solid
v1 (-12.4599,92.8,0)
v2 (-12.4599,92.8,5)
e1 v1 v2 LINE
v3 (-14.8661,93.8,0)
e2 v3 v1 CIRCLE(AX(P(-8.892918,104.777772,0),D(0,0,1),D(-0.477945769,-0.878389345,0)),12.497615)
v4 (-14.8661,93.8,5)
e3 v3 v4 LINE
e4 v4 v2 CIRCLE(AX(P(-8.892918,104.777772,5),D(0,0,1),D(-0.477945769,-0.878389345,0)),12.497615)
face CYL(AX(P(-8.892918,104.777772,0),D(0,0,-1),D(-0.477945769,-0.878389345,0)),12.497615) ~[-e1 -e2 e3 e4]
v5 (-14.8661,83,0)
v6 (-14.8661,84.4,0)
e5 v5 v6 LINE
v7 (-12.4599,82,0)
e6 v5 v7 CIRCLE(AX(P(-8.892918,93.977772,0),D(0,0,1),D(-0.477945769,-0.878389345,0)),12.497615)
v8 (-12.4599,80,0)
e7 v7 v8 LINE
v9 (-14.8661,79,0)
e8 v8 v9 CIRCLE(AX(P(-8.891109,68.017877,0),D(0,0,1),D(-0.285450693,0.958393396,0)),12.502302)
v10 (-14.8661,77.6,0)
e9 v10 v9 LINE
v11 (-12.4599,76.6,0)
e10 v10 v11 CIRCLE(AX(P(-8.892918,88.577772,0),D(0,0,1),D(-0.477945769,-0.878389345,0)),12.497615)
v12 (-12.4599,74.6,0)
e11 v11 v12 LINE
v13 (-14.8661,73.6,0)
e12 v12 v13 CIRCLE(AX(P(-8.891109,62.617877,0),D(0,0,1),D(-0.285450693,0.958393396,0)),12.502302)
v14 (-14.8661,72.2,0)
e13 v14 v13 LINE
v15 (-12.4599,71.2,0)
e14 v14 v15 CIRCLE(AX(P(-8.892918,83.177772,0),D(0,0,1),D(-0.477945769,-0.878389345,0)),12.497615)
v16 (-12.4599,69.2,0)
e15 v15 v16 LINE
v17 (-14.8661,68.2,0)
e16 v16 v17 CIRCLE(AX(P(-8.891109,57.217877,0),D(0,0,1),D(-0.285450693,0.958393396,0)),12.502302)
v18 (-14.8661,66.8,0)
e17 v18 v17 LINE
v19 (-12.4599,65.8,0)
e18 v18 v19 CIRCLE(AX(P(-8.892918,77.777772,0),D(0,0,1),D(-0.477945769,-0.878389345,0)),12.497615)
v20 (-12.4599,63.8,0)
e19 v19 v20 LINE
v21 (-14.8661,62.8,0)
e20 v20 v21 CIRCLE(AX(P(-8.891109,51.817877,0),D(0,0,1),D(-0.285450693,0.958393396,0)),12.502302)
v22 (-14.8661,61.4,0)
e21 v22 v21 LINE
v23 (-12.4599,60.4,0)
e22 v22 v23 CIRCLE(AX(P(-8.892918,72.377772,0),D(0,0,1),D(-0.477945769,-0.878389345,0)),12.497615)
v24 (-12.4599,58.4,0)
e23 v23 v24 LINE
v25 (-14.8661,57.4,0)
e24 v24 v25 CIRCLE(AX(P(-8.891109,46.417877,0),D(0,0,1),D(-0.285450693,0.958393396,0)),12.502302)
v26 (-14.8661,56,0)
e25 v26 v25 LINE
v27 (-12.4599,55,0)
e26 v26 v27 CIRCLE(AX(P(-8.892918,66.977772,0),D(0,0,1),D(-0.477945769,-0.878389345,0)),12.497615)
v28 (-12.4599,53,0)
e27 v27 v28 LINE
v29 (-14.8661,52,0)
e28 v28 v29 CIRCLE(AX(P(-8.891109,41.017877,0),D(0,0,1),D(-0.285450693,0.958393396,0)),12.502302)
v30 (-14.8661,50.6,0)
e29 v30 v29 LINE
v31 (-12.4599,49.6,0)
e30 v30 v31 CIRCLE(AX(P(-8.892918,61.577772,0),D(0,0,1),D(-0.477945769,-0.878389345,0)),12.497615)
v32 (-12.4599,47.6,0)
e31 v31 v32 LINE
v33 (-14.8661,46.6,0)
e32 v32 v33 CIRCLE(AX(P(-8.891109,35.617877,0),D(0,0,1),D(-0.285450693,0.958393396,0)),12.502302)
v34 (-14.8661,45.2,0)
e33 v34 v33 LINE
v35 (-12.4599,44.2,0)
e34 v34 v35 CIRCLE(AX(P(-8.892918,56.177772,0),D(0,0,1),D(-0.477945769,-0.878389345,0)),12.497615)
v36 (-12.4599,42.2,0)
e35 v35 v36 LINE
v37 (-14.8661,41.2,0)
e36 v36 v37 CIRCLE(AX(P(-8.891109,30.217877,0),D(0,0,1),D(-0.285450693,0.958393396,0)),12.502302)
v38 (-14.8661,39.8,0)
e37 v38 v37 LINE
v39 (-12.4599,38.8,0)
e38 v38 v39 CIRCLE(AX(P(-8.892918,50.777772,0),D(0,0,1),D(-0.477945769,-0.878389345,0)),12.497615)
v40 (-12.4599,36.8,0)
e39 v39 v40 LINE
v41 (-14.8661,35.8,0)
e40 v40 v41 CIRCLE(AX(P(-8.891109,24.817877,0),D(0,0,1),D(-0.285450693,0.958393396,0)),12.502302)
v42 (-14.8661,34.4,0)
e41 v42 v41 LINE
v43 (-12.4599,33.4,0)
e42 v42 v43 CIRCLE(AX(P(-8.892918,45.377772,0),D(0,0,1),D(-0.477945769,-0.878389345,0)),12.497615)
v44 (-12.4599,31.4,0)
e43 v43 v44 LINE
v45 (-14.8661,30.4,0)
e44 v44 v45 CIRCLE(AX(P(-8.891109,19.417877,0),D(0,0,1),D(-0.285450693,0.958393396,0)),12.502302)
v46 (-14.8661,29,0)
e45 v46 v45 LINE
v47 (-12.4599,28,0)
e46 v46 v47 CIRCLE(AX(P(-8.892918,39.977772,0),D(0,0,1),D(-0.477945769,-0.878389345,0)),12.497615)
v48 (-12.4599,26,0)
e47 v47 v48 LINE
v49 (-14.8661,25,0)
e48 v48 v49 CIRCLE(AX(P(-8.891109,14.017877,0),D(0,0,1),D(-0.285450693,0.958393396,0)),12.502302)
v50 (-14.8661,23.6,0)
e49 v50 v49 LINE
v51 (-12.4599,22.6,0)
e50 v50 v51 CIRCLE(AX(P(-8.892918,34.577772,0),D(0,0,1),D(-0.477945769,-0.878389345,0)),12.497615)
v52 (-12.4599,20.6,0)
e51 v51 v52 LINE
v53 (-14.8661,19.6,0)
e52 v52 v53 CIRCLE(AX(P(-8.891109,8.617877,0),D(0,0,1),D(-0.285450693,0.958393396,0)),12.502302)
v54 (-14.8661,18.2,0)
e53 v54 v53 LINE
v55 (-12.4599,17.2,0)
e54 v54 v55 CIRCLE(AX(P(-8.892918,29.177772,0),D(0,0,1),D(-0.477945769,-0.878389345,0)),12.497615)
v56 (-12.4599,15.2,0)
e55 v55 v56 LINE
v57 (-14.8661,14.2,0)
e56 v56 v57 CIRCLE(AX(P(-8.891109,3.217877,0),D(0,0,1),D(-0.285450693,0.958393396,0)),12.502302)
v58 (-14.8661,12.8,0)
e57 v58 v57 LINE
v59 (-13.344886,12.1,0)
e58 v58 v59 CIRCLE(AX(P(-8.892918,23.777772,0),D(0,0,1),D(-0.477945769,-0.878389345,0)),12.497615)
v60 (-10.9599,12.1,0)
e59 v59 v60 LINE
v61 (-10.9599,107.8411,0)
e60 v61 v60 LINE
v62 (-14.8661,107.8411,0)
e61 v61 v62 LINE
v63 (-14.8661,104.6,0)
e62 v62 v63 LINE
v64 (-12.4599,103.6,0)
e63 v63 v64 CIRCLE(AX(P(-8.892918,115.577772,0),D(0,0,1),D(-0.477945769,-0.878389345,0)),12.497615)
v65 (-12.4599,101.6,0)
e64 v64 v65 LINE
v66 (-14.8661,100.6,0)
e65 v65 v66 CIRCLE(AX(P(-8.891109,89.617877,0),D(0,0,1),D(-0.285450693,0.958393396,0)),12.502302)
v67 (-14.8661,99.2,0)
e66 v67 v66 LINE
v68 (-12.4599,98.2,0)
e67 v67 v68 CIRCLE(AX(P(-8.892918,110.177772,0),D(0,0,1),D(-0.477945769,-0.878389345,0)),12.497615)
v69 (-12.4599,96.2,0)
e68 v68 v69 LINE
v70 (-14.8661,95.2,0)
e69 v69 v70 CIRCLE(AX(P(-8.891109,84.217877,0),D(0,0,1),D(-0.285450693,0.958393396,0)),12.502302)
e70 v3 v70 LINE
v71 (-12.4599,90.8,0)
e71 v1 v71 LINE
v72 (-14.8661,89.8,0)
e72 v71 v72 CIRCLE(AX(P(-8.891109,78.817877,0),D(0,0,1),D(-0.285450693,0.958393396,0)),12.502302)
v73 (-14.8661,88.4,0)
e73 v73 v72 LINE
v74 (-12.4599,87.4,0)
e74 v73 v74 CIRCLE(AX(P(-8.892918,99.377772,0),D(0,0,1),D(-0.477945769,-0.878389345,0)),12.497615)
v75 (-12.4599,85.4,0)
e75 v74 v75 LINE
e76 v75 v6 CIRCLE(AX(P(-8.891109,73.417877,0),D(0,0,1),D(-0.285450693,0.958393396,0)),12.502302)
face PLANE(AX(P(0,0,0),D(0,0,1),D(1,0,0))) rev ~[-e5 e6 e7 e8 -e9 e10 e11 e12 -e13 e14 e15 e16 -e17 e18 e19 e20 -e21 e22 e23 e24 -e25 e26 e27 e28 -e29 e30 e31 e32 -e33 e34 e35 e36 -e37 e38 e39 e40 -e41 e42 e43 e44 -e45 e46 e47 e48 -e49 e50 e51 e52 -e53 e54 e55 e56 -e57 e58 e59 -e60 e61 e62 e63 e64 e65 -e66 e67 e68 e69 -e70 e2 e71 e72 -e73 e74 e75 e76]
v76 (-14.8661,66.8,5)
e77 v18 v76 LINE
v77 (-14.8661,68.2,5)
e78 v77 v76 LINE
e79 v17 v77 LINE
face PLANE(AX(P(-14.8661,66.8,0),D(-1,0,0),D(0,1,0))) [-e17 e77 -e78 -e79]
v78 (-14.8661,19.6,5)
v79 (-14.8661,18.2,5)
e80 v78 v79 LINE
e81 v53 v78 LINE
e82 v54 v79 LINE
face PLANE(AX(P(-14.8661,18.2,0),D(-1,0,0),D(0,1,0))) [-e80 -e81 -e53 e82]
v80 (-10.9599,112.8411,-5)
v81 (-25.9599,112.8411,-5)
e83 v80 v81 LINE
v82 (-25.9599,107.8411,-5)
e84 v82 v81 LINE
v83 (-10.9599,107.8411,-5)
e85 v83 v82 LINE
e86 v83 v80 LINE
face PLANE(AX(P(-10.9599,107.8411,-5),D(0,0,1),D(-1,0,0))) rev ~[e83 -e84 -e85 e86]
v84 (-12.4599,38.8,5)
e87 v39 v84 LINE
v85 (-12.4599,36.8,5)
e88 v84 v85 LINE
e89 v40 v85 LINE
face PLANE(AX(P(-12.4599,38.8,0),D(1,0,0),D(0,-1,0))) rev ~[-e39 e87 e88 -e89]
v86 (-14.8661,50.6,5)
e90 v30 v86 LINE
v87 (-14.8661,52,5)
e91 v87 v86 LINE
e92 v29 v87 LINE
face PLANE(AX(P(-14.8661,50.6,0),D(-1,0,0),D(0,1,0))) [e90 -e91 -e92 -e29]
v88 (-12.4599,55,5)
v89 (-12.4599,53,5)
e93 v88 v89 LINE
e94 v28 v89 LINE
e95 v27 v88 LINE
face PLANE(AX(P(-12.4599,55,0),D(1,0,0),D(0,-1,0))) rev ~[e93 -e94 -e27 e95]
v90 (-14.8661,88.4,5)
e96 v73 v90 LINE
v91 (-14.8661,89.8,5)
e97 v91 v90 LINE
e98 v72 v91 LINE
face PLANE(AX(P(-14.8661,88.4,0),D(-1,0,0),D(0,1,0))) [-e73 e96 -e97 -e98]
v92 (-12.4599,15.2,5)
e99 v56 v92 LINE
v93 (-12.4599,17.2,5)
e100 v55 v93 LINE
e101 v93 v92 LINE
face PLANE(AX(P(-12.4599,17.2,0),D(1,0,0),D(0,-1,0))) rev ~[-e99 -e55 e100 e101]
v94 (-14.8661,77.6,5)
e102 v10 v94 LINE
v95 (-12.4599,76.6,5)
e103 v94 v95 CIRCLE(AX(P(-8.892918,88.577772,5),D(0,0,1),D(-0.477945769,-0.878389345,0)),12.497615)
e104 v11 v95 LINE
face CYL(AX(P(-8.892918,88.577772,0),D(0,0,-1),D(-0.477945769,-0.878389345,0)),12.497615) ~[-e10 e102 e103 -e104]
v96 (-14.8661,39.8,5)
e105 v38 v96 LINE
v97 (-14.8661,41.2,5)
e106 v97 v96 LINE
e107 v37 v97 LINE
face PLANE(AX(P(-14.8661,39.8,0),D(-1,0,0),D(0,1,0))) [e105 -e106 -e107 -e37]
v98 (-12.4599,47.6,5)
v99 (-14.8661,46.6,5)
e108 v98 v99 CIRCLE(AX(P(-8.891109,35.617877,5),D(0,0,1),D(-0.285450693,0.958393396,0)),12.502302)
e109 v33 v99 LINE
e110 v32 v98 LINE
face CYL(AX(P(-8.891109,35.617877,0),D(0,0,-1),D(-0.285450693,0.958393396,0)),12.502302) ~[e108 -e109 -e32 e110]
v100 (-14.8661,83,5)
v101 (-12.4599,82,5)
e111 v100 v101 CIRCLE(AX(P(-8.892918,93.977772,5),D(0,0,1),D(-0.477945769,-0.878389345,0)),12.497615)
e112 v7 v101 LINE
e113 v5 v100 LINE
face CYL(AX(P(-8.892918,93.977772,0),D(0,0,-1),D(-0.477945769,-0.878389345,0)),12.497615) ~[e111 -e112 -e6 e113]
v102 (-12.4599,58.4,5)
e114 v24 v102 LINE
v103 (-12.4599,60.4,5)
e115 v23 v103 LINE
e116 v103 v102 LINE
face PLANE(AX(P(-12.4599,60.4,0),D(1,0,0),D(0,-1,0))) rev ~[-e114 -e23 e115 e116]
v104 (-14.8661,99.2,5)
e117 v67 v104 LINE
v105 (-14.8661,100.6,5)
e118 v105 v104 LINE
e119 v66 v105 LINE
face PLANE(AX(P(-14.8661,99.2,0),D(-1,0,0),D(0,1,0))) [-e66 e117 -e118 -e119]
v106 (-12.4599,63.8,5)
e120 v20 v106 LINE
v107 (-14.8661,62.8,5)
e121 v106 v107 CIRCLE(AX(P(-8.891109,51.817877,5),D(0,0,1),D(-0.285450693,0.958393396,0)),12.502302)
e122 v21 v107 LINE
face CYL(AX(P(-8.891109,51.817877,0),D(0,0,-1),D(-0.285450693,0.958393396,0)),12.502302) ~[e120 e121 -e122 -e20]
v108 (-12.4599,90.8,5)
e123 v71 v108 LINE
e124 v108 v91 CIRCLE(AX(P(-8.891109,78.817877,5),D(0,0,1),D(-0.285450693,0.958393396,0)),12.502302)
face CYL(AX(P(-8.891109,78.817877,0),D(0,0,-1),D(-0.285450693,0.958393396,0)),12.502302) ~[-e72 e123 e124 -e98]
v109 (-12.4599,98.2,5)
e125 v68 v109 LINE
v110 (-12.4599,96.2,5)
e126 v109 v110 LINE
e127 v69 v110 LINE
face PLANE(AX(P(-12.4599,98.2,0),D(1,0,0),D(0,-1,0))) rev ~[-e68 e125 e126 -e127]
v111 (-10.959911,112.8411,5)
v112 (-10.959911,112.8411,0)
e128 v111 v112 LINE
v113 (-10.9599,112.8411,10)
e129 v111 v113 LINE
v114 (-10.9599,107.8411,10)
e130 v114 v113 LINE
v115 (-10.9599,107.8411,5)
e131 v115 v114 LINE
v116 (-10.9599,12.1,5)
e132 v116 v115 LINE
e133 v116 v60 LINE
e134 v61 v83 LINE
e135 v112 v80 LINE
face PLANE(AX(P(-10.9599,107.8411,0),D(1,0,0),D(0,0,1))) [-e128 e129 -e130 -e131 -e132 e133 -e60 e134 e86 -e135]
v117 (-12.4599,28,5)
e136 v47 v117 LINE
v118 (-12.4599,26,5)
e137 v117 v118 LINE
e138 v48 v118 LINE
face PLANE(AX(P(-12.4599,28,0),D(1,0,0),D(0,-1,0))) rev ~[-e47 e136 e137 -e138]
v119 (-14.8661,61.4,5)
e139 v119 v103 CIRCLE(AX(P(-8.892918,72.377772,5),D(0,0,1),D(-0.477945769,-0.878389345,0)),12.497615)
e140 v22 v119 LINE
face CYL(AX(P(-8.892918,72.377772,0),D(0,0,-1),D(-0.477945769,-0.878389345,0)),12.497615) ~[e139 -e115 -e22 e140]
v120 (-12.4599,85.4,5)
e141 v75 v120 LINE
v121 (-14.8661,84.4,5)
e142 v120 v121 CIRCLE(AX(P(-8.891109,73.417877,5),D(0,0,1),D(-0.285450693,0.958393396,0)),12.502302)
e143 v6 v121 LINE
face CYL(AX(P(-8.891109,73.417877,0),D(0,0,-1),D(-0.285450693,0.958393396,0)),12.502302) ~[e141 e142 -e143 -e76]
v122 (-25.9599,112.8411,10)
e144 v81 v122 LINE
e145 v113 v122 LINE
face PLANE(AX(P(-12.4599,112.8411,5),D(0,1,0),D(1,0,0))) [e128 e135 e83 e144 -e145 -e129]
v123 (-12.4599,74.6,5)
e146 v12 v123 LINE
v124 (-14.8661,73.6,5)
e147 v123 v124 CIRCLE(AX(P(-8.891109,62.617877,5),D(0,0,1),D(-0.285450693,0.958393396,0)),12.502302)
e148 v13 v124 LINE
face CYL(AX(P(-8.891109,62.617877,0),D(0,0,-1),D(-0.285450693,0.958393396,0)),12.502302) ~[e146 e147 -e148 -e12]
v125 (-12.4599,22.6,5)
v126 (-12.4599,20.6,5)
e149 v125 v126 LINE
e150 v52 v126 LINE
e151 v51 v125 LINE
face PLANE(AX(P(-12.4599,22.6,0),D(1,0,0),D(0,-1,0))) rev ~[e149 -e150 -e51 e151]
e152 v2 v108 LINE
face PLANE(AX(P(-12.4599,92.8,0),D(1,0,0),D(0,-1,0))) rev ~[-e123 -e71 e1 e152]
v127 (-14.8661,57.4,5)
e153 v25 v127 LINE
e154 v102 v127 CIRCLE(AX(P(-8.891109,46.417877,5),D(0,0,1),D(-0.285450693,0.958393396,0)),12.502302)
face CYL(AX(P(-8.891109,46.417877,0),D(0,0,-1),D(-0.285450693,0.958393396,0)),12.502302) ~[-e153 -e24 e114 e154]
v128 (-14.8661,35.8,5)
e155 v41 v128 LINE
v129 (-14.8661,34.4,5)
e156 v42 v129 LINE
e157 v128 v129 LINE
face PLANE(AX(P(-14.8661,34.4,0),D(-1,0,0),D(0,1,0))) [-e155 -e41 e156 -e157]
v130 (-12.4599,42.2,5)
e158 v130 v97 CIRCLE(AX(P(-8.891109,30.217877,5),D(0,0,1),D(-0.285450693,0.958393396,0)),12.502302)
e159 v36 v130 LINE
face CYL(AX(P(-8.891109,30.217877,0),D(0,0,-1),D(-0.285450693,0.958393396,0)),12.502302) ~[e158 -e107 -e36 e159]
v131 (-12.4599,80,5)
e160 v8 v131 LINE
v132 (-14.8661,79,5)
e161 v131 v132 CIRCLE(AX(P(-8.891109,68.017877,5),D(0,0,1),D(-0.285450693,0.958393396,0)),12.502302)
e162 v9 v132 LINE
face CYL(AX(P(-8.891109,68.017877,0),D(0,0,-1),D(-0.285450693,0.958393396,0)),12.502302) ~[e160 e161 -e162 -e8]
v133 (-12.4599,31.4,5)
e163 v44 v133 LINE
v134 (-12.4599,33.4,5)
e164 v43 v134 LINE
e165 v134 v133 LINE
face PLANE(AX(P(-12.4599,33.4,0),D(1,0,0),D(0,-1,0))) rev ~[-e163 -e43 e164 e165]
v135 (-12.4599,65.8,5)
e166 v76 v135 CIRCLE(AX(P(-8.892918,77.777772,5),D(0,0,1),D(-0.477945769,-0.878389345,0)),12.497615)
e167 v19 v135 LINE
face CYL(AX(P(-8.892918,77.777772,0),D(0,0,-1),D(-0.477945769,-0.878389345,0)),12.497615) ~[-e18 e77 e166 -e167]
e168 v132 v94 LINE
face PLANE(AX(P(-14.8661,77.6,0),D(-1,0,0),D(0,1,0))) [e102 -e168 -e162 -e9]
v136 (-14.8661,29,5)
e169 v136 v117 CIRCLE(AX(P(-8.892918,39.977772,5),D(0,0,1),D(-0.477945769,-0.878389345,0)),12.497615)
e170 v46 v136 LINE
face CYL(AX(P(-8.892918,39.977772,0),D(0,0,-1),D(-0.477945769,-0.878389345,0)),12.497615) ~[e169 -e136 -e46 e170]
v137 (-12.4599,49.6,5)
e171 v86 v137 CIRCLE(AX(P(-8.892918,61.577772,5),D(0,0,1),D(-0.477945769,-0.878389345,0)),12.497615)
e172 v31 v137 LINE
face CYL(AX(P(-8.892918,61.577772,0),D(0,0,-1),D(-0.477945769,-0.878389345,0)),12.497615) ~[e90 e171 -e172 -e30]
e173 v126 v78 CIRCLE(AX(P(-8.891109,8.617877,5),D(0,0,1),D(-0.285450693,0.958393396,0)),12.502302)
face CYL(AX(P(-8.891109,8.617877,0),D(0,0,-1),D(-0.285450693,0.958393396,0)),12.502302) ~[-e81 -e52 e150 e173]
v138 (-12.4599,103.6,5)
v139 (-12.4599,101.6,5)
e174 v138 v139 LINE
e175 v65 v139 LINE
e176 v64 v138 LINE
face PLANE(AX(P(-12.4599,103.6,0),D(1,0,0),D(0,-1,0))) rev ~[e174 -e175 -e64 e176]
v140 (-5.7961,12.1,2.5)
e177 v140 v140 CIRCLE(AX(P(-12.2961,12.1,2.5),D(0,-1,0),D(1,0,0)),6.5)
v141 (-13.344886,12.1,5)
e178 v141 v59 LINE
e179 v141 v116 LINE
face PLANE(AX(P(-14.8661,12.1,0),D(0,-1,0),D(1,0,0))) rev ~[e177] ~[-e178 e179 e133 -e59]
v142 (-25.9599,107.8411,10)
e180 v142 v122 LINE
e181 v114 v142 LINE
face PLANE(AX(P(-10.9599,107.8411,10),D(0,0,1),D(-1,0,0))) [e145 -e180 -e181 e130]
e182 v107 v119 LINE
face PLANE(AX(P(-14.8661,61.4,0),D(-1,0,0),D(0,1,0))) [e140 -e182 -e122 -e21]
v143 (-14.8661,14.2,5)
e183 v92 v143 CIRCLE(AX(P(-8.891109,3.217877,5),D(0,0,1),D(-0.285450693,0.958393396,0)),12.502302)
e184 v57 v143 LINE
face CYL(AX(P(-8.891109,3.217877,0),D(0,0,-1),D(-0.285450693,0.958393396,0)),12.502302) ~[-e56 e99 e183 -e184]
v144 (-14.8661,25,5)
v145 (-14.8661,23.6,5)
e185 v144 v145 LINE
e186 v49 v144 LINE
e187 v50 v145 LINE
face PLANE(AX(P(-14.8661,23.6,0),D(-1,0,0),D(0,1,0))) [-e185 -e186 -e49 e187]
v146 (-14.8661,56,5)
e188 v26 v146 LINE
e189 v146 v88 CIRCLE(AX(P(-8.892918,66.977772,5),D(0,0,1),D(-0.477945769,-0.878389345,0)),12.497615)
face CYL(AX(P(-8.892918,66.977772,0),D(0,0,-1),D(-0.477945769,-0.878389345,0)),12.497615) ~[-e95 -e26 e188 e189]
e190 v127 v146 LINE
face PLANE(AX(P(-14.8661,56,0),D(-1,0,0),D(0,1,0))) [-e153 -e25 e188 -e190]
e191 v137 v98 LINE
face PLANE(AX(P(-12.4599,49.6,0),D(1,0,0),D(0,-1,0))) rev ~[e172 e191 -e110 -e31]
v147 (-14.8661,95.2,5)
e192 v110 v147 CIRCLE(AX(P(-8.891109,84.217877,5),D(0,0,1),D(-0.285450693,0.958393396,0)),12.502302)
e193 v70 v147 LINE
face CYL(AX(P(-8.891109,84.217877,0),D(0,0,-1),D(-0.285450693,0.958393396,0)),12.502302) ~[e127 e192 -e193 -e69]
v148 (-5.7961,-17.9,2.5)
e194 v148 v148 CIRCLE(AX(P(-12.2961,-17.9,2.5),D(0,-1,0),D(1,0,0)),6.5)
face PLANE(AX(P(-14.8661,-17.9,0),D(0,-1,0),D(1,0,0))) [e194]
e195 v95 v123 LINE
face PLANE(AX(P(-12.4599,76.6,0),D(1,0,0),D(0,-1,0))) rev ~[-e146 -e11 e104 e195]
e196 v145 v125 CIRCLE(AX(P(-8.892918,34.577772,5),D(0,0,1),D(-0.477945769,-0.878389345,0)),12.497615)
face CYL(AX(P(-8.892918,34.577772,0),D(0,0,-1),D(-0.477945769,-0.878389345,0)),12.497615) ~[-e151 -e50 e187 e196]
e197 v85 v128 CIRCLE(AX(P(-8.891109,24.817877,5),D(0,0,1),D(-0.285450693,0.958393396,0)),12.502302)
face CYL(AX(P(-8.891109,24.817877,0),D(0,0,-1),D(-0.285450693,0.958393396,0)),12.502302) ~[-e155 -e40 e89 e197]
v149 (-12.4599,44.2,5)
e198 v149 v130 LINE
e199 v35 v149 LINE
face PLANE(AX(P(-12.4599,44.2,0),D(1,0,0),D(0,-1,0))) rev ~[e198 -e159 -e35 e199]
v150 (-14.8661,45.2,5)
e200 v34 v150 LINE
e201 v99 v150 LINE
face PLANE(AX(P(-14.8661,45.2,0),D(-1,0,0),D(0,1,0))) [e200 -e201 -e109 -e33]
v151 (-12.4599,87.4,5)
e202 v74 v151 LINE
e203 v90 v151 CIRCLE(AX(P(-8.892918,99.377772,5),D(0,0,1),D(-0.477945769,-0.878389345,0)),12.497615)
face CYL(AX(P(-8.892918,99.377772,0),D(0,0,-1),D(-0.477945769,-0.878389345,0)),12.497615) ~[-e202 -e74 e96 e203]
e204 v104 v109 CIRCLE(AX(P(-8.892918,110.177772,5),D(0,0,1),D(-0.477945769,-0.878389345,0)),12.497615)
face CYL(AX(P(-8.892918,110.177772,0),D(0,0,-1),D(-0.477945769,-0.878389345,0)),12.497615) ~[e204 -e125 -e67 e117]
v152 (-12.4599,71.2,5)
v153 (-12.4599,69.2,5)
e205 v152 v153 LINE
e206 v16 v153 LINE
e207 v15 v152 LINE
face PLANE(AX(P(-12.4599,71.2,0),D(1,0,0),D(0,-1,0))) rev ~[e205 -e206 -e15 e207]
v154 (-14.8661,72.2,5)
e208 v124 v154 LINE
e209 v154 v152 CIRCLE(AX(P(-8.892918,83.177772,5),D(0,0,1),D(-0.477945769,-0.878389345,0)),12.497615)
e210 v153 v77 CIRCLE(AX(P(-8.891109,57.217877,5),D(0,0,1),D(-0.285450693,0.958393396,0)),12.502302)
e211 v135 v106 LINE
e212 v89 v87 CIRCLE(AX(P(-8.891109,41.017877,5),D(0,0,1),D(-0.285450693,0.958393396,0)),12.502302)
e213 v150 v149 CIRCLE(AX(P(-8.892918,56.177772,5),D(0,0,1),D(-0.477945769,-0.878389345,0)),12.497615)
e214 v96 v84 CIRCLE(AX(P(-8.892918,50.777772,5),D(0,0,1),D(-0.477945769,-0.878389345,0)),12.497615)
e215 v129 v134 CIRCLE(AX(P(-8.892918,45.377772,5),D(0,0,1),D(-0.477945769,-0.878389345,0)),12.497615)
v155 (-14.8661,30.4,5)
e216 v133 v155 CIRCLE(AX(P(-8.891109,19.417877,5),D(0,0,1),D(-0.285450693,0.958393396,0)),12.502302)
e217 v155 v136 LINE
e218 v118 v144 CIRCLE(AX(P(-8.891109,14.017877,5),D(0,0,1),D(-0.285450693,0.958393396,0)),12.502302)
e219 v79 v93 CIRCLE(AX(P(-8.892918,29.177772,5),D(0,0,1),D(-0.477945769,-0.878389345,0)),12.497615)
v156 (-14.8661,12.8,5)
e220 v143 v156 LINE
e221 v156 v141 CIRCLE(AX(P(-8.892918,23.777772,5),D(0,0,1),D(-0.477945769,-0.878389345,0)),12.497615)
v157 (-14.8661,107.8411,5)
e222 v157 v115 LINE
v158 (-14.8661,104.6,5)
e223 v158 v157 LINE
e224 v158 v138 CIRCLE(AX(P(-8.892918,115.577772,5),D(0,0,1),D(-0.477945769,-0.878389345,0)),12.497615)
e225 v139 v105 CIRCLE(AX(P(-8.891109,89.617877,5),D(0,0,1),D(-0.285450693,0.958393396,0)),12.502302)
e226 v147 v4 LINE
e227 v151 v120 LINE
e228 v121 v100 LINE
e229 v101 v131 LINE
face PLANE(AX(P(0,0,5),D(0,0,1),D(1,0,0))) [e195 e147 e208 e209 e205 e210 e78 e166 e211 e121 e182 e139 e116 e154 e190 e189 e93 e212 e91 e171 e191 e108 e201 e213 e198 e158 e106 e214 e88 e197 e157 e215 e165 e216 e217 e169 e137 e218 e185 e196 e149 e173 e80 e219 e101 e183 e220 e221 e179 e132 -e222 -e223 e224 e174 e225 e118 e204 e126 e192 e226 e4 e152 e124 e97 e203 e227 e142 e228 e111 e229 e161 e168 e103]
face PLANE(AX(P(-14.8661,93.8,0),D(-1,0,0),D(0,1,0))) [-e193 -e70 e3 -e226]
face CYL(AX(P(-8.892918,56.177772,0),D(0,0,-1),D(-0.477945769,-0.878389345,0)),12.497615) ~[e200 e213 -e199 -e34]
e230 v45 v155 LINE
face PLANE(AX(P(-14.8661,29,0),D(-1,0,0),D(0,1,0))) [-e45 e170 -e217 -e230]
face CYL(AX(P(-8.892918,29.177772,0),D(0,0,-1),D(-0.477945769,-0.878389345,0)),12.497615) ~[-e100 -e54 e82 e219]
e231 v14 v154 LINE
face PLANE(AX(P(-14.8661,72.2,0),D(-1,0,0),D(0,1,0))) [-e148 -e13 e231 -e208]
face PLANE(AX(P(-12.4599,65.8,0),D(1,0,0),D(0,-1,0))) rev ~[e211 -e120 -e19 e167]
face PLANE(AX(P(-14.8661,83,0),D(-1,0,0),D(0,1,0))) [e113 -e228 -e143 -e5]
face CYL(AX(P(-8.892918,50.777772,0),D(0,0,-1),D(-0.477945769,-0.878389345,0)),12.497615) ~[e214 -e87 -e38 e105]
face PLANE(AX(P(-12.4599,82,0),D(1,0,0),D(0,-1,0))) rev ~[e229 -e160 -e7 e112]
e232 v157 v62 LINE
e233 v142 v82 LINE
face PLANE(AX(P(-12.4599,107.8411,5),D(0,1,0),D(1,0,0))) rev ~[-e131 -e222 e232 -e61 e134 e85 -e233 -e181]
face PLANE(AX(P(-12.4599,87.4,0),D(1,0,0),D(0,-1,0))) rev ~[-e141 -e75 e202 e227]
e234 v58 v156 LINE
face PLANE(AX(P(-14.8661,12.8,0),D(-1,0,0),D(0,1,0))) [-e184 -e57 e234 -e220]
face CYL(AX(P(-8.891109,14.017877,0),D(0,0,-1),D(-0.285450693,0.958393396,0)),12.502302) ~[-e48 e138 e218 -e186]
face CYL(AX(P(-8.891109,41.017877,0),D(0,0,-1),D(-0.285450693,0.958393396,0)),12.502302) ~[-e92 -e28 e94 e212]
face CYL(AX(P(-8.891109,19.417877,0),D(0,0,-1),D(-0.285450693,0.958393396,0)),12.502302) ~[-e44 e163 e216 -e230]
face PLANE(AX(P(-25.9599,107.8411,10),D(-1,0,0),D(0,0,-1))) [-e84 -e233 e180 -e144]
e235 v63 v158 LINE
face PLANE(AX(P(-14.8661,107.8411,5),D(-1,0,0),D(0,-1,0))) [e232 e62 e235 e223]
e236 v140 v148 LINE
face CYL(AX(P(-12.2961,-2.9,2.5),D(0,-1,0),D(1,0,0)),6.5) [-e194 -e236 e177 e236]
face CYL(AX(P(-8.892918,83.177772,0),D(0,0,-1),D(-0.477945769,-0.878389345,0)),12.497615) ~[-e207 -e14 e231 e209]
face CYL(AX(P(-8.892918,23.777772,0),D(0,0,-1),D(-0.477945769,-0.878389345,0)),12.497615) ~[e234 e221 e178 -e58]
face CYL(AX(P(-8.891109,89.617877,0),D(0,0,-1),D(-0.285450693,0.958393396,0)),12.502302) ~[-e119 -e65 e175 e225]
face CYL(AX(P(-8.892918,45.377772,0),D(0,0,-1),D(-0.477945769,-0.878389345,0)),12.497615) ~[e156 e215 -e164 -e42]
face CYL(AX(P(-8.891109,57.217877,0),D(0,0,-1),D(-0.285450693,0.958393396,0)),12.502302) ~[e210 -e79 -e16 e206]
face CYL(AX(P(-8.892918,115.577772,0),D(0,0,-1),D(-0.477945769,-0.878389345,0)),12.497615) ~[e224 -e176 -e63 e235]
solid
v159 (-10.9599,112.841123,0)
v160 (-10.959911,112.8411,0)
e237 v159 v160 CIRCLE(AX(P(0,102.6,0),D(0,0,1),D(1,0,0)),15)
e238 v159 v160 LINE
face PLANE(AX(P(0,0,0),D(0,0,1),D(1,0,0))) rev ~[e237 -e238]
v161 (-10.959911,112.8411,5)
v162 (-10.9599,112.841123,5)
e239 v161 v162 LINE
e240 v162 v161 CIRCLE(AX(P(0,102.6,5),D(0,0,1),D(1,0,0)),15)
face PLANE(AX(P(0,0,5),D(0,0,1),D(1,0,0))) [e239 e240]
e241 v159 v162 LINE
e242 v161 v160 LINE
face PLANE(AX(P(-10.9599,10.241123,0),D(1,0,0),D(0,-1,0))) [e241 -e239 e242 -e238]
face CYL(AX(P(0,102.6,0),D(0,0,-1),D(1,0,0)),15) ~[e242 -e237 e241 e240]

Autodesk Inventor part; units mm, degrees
ref_plane "YZ Plane" through (0, 0, 0) normal (1, 0, 0) x (0, 1, 0)
ref_plane "XZ Plane" through (0, 0, 0) normal (0, 1, 0) x (-1, 0, 0)
ref_plane "XY Plane" through (0, 0, 0) normal (0, 0, 1) x (1, 0, 0)
sketch "Skizze2" plane through (0, 0, 0) normal (0, 0, 1) x (1, 0, 0)
  circle A0 centre (0, 0) radius 12.5 construction
  circle A1 centre (0, 0) radius 15
  line L0 (-15, 0) -> (-12.5, 0)
  arc A2 (-12.4599, -1) -> (-14.8661, -2) centre (-8.8919, -12.9799) ccw
  arc A3 (-14.8661, 2) -> (-12.4599, 1) centre (-8.8919, 12.9799) ccw
  arc A4 (-14.8661, 2) -> (-14.8661, -2) centre (0, 0) ccw
  arc A5 (-12.4599, 1) -> (-12.4599, -1) centre (0, 0) ccw
  circle A6 centre (0, 0) radius 15
  line L1 (-12.4599, 1) -> (-12.4599, -1)
  line L2 (-12.4599, 1) -> (-12.4599, 21)
  line L3 (-12.4599, -1) -> (-12.4599, -21)
  line L4 (-14.8661, -2) -> (-14.8661, -21)
  line L5 (-12.4599, -21) -> (-14.8661, -21)
  line L6 (-14.8661, 2) -> (-14.8661, 21)
  line L7 (-14.8661, 21) -> (-12.4599, 21)
  line L8 (-12.4599, 21) -> (-10.9599, 21)
  line L9 (-10.9599, 21) -> (-10.9599, -21)
  line L10 (-10.9599, -21) -> (-12.4599, -21)
  line L11 (-14.8661, 2) -> (-14.8661, 2.9)
  line L12 (-14.8661, 2.9) -> (-12.4599, 2.9)
  line L13 (-14.8661, -2) -> (-14.8661, -2.9)
  line L14 (-14.8661, -2.9) -> (-12.4599, -2.9)
  point P0 (-13.75, 0)
  point P1 (-15, 0)
  point P2 (-12.4599, -8.3516)
  point P3 (-10.9599, -10.2411)
  point P4 (-10.9599, 10.2411)
  point P5 (-12.4599, 8.3516)
  dimension "d5" = 25
  dimension "d6" = 12.5
  dimension "d7" = 4
  dimension "d8" = 2
  dimension "d9" = 13.75
  dimension "d11" = 30
  dimension "d12" = 20
  dimension "d13" = 20
  dimension "d14" = 1.5
  dimension "d17" = 0.9
  dimension "d18" = 0.9
extrude "Extrusion1" add sketch "Skizze2" along normal blind 5 contours L6 L12 A1 | A1 L12 L2 A3 | L2 A1 L9 L3 L1 | A2 L3 L14 A1 | A1 L14 L4
pattern_linear "Rechteckige Anordnung1" count 20 spacing 5.4 along (0, 1, 0) of "Extrusion1"
sketch "Skizze3" plane through (-12.4599, 105.5, 0) normal (-1, 0, 0) x (0, 0, 1)
  line L0 (5, -115.7411) -> (5, 7.3411) projected
  line L1 (5, 2.3411) -> (0, 2.3411)
  line L2 (0, -115.7411) -> (0, 7.3411) projected
  line L3 (0, 2.3411) -> (0, 7.3411)
  line L4 (0, 7.3411) -> (5, 7.3411)
  line L5 (5, 7.3411) -> (5, 2.3411)
  point P0 (0, -105.5)
  point P1 (2.5, 7.3411)
  dimension "d22" = 5
extrude "Extrusion2" cut sketch "Skizze3" against normal blind 5
sketch "Skizze4" plane through (-12.4599, 107.8411, 5) normal (0, 1, 0) x (1, 0, 0)
  line L0 (1.5, 5) -> (1.5, 0) projected
  line L1 (1.5, 0) -> (1.5, 5)
  line L2 (1.5, 5) -> (1.5, 10)
  line L3 (1.5, 10) -> (-13.5, 10)
  line L4 (1.5, 2.5) -> (-2.4061, 2.5) construction
  line L5 (-2.4061, 5) -> (-2.4061, 0) projected
  line L6 (-13.5, 10) -> (-13.5, 5)
  line L7 (1.5, 0) -> (1.5, 5)
  line L8 (1.5, 0) -> (1.5, -5)
  line L9 (1.5, -5) -> (-13.5, -5)
  line L10 (-13.5, -5) -> (-13.5, 5)
  point P0 (12.4599, 5)
  dimension "d25" = 5
  dimension "d26" = 15
extrude "Extrusion3" add sketch "Skizze4" along normal blind 5
sketch "Skizze5" plane through (0, 0, 5) normal (0, 0, 1) x (1, 0, 0)
  line L0 (-14.8661, 105.5) -> (-14.8661, 104.6) projected
  line L1 (-12.4599, 107.8411) -> (-10.9599, 107.8411) projected
  line L2 (-14.8661, 105.5) -> (-12.4599, 105.5)
  line L3 (-12.4599, 105.5) -> (-12.4599, 107.8411)
  line L4 (-12.4599, 107.8411) -> (-14.8661, 107.8411)
  line L5 (-14.8661, 107.8411) -> (-14.8661, 105.5)
  point P0 (0, 0)
extrude "Extrusion4" add sketch "Skizze5" against normal blind 5
sketch "Skizze7" plane through (-12.4599, -8.3516, 0) normal (-1, 0, 0) x (0, 0, 1)
  line L0 (5, -1.8894) -> (5, 116.1927) projected
  line L1 (0, -1.8894) -> (5, -1.8894) projected
  line L2 (5, 2.1106) -> (0, 2.1106)
  line L3 (0, 2.1106) -> (0, -1.8894)
  line L4 (0, -1.8894) -> (5, -1.8894)
  line L5 (5, -1.8894) -> (5, 2.1106)
  point P0 (0, 8.3516)
  dimension "d34" = 4
extrude "Extrusion6" cut sketch "Skizze7" against normal blind 10
sketch "Skizze8" plane through (-14.8661, -2.9, 0) normal (0, -1, 0) x (1, 0, 0)
  circle A0 centre (2.57, 2.5) radius 6.5
  line L0 (0, 0) -> (0, 5) projected
  line L1 (0, 5) -> (2.4061, 5) projected
  point P0 (14.8661, 0)
  dimension "d37" = 13
  dimension "d38" = 2.57
  dimension "d39" = 2.5
extrude "Extrusion7" add sketch "Skizze8" along normal mid plane 30
properties part number "Lineartranslator"
